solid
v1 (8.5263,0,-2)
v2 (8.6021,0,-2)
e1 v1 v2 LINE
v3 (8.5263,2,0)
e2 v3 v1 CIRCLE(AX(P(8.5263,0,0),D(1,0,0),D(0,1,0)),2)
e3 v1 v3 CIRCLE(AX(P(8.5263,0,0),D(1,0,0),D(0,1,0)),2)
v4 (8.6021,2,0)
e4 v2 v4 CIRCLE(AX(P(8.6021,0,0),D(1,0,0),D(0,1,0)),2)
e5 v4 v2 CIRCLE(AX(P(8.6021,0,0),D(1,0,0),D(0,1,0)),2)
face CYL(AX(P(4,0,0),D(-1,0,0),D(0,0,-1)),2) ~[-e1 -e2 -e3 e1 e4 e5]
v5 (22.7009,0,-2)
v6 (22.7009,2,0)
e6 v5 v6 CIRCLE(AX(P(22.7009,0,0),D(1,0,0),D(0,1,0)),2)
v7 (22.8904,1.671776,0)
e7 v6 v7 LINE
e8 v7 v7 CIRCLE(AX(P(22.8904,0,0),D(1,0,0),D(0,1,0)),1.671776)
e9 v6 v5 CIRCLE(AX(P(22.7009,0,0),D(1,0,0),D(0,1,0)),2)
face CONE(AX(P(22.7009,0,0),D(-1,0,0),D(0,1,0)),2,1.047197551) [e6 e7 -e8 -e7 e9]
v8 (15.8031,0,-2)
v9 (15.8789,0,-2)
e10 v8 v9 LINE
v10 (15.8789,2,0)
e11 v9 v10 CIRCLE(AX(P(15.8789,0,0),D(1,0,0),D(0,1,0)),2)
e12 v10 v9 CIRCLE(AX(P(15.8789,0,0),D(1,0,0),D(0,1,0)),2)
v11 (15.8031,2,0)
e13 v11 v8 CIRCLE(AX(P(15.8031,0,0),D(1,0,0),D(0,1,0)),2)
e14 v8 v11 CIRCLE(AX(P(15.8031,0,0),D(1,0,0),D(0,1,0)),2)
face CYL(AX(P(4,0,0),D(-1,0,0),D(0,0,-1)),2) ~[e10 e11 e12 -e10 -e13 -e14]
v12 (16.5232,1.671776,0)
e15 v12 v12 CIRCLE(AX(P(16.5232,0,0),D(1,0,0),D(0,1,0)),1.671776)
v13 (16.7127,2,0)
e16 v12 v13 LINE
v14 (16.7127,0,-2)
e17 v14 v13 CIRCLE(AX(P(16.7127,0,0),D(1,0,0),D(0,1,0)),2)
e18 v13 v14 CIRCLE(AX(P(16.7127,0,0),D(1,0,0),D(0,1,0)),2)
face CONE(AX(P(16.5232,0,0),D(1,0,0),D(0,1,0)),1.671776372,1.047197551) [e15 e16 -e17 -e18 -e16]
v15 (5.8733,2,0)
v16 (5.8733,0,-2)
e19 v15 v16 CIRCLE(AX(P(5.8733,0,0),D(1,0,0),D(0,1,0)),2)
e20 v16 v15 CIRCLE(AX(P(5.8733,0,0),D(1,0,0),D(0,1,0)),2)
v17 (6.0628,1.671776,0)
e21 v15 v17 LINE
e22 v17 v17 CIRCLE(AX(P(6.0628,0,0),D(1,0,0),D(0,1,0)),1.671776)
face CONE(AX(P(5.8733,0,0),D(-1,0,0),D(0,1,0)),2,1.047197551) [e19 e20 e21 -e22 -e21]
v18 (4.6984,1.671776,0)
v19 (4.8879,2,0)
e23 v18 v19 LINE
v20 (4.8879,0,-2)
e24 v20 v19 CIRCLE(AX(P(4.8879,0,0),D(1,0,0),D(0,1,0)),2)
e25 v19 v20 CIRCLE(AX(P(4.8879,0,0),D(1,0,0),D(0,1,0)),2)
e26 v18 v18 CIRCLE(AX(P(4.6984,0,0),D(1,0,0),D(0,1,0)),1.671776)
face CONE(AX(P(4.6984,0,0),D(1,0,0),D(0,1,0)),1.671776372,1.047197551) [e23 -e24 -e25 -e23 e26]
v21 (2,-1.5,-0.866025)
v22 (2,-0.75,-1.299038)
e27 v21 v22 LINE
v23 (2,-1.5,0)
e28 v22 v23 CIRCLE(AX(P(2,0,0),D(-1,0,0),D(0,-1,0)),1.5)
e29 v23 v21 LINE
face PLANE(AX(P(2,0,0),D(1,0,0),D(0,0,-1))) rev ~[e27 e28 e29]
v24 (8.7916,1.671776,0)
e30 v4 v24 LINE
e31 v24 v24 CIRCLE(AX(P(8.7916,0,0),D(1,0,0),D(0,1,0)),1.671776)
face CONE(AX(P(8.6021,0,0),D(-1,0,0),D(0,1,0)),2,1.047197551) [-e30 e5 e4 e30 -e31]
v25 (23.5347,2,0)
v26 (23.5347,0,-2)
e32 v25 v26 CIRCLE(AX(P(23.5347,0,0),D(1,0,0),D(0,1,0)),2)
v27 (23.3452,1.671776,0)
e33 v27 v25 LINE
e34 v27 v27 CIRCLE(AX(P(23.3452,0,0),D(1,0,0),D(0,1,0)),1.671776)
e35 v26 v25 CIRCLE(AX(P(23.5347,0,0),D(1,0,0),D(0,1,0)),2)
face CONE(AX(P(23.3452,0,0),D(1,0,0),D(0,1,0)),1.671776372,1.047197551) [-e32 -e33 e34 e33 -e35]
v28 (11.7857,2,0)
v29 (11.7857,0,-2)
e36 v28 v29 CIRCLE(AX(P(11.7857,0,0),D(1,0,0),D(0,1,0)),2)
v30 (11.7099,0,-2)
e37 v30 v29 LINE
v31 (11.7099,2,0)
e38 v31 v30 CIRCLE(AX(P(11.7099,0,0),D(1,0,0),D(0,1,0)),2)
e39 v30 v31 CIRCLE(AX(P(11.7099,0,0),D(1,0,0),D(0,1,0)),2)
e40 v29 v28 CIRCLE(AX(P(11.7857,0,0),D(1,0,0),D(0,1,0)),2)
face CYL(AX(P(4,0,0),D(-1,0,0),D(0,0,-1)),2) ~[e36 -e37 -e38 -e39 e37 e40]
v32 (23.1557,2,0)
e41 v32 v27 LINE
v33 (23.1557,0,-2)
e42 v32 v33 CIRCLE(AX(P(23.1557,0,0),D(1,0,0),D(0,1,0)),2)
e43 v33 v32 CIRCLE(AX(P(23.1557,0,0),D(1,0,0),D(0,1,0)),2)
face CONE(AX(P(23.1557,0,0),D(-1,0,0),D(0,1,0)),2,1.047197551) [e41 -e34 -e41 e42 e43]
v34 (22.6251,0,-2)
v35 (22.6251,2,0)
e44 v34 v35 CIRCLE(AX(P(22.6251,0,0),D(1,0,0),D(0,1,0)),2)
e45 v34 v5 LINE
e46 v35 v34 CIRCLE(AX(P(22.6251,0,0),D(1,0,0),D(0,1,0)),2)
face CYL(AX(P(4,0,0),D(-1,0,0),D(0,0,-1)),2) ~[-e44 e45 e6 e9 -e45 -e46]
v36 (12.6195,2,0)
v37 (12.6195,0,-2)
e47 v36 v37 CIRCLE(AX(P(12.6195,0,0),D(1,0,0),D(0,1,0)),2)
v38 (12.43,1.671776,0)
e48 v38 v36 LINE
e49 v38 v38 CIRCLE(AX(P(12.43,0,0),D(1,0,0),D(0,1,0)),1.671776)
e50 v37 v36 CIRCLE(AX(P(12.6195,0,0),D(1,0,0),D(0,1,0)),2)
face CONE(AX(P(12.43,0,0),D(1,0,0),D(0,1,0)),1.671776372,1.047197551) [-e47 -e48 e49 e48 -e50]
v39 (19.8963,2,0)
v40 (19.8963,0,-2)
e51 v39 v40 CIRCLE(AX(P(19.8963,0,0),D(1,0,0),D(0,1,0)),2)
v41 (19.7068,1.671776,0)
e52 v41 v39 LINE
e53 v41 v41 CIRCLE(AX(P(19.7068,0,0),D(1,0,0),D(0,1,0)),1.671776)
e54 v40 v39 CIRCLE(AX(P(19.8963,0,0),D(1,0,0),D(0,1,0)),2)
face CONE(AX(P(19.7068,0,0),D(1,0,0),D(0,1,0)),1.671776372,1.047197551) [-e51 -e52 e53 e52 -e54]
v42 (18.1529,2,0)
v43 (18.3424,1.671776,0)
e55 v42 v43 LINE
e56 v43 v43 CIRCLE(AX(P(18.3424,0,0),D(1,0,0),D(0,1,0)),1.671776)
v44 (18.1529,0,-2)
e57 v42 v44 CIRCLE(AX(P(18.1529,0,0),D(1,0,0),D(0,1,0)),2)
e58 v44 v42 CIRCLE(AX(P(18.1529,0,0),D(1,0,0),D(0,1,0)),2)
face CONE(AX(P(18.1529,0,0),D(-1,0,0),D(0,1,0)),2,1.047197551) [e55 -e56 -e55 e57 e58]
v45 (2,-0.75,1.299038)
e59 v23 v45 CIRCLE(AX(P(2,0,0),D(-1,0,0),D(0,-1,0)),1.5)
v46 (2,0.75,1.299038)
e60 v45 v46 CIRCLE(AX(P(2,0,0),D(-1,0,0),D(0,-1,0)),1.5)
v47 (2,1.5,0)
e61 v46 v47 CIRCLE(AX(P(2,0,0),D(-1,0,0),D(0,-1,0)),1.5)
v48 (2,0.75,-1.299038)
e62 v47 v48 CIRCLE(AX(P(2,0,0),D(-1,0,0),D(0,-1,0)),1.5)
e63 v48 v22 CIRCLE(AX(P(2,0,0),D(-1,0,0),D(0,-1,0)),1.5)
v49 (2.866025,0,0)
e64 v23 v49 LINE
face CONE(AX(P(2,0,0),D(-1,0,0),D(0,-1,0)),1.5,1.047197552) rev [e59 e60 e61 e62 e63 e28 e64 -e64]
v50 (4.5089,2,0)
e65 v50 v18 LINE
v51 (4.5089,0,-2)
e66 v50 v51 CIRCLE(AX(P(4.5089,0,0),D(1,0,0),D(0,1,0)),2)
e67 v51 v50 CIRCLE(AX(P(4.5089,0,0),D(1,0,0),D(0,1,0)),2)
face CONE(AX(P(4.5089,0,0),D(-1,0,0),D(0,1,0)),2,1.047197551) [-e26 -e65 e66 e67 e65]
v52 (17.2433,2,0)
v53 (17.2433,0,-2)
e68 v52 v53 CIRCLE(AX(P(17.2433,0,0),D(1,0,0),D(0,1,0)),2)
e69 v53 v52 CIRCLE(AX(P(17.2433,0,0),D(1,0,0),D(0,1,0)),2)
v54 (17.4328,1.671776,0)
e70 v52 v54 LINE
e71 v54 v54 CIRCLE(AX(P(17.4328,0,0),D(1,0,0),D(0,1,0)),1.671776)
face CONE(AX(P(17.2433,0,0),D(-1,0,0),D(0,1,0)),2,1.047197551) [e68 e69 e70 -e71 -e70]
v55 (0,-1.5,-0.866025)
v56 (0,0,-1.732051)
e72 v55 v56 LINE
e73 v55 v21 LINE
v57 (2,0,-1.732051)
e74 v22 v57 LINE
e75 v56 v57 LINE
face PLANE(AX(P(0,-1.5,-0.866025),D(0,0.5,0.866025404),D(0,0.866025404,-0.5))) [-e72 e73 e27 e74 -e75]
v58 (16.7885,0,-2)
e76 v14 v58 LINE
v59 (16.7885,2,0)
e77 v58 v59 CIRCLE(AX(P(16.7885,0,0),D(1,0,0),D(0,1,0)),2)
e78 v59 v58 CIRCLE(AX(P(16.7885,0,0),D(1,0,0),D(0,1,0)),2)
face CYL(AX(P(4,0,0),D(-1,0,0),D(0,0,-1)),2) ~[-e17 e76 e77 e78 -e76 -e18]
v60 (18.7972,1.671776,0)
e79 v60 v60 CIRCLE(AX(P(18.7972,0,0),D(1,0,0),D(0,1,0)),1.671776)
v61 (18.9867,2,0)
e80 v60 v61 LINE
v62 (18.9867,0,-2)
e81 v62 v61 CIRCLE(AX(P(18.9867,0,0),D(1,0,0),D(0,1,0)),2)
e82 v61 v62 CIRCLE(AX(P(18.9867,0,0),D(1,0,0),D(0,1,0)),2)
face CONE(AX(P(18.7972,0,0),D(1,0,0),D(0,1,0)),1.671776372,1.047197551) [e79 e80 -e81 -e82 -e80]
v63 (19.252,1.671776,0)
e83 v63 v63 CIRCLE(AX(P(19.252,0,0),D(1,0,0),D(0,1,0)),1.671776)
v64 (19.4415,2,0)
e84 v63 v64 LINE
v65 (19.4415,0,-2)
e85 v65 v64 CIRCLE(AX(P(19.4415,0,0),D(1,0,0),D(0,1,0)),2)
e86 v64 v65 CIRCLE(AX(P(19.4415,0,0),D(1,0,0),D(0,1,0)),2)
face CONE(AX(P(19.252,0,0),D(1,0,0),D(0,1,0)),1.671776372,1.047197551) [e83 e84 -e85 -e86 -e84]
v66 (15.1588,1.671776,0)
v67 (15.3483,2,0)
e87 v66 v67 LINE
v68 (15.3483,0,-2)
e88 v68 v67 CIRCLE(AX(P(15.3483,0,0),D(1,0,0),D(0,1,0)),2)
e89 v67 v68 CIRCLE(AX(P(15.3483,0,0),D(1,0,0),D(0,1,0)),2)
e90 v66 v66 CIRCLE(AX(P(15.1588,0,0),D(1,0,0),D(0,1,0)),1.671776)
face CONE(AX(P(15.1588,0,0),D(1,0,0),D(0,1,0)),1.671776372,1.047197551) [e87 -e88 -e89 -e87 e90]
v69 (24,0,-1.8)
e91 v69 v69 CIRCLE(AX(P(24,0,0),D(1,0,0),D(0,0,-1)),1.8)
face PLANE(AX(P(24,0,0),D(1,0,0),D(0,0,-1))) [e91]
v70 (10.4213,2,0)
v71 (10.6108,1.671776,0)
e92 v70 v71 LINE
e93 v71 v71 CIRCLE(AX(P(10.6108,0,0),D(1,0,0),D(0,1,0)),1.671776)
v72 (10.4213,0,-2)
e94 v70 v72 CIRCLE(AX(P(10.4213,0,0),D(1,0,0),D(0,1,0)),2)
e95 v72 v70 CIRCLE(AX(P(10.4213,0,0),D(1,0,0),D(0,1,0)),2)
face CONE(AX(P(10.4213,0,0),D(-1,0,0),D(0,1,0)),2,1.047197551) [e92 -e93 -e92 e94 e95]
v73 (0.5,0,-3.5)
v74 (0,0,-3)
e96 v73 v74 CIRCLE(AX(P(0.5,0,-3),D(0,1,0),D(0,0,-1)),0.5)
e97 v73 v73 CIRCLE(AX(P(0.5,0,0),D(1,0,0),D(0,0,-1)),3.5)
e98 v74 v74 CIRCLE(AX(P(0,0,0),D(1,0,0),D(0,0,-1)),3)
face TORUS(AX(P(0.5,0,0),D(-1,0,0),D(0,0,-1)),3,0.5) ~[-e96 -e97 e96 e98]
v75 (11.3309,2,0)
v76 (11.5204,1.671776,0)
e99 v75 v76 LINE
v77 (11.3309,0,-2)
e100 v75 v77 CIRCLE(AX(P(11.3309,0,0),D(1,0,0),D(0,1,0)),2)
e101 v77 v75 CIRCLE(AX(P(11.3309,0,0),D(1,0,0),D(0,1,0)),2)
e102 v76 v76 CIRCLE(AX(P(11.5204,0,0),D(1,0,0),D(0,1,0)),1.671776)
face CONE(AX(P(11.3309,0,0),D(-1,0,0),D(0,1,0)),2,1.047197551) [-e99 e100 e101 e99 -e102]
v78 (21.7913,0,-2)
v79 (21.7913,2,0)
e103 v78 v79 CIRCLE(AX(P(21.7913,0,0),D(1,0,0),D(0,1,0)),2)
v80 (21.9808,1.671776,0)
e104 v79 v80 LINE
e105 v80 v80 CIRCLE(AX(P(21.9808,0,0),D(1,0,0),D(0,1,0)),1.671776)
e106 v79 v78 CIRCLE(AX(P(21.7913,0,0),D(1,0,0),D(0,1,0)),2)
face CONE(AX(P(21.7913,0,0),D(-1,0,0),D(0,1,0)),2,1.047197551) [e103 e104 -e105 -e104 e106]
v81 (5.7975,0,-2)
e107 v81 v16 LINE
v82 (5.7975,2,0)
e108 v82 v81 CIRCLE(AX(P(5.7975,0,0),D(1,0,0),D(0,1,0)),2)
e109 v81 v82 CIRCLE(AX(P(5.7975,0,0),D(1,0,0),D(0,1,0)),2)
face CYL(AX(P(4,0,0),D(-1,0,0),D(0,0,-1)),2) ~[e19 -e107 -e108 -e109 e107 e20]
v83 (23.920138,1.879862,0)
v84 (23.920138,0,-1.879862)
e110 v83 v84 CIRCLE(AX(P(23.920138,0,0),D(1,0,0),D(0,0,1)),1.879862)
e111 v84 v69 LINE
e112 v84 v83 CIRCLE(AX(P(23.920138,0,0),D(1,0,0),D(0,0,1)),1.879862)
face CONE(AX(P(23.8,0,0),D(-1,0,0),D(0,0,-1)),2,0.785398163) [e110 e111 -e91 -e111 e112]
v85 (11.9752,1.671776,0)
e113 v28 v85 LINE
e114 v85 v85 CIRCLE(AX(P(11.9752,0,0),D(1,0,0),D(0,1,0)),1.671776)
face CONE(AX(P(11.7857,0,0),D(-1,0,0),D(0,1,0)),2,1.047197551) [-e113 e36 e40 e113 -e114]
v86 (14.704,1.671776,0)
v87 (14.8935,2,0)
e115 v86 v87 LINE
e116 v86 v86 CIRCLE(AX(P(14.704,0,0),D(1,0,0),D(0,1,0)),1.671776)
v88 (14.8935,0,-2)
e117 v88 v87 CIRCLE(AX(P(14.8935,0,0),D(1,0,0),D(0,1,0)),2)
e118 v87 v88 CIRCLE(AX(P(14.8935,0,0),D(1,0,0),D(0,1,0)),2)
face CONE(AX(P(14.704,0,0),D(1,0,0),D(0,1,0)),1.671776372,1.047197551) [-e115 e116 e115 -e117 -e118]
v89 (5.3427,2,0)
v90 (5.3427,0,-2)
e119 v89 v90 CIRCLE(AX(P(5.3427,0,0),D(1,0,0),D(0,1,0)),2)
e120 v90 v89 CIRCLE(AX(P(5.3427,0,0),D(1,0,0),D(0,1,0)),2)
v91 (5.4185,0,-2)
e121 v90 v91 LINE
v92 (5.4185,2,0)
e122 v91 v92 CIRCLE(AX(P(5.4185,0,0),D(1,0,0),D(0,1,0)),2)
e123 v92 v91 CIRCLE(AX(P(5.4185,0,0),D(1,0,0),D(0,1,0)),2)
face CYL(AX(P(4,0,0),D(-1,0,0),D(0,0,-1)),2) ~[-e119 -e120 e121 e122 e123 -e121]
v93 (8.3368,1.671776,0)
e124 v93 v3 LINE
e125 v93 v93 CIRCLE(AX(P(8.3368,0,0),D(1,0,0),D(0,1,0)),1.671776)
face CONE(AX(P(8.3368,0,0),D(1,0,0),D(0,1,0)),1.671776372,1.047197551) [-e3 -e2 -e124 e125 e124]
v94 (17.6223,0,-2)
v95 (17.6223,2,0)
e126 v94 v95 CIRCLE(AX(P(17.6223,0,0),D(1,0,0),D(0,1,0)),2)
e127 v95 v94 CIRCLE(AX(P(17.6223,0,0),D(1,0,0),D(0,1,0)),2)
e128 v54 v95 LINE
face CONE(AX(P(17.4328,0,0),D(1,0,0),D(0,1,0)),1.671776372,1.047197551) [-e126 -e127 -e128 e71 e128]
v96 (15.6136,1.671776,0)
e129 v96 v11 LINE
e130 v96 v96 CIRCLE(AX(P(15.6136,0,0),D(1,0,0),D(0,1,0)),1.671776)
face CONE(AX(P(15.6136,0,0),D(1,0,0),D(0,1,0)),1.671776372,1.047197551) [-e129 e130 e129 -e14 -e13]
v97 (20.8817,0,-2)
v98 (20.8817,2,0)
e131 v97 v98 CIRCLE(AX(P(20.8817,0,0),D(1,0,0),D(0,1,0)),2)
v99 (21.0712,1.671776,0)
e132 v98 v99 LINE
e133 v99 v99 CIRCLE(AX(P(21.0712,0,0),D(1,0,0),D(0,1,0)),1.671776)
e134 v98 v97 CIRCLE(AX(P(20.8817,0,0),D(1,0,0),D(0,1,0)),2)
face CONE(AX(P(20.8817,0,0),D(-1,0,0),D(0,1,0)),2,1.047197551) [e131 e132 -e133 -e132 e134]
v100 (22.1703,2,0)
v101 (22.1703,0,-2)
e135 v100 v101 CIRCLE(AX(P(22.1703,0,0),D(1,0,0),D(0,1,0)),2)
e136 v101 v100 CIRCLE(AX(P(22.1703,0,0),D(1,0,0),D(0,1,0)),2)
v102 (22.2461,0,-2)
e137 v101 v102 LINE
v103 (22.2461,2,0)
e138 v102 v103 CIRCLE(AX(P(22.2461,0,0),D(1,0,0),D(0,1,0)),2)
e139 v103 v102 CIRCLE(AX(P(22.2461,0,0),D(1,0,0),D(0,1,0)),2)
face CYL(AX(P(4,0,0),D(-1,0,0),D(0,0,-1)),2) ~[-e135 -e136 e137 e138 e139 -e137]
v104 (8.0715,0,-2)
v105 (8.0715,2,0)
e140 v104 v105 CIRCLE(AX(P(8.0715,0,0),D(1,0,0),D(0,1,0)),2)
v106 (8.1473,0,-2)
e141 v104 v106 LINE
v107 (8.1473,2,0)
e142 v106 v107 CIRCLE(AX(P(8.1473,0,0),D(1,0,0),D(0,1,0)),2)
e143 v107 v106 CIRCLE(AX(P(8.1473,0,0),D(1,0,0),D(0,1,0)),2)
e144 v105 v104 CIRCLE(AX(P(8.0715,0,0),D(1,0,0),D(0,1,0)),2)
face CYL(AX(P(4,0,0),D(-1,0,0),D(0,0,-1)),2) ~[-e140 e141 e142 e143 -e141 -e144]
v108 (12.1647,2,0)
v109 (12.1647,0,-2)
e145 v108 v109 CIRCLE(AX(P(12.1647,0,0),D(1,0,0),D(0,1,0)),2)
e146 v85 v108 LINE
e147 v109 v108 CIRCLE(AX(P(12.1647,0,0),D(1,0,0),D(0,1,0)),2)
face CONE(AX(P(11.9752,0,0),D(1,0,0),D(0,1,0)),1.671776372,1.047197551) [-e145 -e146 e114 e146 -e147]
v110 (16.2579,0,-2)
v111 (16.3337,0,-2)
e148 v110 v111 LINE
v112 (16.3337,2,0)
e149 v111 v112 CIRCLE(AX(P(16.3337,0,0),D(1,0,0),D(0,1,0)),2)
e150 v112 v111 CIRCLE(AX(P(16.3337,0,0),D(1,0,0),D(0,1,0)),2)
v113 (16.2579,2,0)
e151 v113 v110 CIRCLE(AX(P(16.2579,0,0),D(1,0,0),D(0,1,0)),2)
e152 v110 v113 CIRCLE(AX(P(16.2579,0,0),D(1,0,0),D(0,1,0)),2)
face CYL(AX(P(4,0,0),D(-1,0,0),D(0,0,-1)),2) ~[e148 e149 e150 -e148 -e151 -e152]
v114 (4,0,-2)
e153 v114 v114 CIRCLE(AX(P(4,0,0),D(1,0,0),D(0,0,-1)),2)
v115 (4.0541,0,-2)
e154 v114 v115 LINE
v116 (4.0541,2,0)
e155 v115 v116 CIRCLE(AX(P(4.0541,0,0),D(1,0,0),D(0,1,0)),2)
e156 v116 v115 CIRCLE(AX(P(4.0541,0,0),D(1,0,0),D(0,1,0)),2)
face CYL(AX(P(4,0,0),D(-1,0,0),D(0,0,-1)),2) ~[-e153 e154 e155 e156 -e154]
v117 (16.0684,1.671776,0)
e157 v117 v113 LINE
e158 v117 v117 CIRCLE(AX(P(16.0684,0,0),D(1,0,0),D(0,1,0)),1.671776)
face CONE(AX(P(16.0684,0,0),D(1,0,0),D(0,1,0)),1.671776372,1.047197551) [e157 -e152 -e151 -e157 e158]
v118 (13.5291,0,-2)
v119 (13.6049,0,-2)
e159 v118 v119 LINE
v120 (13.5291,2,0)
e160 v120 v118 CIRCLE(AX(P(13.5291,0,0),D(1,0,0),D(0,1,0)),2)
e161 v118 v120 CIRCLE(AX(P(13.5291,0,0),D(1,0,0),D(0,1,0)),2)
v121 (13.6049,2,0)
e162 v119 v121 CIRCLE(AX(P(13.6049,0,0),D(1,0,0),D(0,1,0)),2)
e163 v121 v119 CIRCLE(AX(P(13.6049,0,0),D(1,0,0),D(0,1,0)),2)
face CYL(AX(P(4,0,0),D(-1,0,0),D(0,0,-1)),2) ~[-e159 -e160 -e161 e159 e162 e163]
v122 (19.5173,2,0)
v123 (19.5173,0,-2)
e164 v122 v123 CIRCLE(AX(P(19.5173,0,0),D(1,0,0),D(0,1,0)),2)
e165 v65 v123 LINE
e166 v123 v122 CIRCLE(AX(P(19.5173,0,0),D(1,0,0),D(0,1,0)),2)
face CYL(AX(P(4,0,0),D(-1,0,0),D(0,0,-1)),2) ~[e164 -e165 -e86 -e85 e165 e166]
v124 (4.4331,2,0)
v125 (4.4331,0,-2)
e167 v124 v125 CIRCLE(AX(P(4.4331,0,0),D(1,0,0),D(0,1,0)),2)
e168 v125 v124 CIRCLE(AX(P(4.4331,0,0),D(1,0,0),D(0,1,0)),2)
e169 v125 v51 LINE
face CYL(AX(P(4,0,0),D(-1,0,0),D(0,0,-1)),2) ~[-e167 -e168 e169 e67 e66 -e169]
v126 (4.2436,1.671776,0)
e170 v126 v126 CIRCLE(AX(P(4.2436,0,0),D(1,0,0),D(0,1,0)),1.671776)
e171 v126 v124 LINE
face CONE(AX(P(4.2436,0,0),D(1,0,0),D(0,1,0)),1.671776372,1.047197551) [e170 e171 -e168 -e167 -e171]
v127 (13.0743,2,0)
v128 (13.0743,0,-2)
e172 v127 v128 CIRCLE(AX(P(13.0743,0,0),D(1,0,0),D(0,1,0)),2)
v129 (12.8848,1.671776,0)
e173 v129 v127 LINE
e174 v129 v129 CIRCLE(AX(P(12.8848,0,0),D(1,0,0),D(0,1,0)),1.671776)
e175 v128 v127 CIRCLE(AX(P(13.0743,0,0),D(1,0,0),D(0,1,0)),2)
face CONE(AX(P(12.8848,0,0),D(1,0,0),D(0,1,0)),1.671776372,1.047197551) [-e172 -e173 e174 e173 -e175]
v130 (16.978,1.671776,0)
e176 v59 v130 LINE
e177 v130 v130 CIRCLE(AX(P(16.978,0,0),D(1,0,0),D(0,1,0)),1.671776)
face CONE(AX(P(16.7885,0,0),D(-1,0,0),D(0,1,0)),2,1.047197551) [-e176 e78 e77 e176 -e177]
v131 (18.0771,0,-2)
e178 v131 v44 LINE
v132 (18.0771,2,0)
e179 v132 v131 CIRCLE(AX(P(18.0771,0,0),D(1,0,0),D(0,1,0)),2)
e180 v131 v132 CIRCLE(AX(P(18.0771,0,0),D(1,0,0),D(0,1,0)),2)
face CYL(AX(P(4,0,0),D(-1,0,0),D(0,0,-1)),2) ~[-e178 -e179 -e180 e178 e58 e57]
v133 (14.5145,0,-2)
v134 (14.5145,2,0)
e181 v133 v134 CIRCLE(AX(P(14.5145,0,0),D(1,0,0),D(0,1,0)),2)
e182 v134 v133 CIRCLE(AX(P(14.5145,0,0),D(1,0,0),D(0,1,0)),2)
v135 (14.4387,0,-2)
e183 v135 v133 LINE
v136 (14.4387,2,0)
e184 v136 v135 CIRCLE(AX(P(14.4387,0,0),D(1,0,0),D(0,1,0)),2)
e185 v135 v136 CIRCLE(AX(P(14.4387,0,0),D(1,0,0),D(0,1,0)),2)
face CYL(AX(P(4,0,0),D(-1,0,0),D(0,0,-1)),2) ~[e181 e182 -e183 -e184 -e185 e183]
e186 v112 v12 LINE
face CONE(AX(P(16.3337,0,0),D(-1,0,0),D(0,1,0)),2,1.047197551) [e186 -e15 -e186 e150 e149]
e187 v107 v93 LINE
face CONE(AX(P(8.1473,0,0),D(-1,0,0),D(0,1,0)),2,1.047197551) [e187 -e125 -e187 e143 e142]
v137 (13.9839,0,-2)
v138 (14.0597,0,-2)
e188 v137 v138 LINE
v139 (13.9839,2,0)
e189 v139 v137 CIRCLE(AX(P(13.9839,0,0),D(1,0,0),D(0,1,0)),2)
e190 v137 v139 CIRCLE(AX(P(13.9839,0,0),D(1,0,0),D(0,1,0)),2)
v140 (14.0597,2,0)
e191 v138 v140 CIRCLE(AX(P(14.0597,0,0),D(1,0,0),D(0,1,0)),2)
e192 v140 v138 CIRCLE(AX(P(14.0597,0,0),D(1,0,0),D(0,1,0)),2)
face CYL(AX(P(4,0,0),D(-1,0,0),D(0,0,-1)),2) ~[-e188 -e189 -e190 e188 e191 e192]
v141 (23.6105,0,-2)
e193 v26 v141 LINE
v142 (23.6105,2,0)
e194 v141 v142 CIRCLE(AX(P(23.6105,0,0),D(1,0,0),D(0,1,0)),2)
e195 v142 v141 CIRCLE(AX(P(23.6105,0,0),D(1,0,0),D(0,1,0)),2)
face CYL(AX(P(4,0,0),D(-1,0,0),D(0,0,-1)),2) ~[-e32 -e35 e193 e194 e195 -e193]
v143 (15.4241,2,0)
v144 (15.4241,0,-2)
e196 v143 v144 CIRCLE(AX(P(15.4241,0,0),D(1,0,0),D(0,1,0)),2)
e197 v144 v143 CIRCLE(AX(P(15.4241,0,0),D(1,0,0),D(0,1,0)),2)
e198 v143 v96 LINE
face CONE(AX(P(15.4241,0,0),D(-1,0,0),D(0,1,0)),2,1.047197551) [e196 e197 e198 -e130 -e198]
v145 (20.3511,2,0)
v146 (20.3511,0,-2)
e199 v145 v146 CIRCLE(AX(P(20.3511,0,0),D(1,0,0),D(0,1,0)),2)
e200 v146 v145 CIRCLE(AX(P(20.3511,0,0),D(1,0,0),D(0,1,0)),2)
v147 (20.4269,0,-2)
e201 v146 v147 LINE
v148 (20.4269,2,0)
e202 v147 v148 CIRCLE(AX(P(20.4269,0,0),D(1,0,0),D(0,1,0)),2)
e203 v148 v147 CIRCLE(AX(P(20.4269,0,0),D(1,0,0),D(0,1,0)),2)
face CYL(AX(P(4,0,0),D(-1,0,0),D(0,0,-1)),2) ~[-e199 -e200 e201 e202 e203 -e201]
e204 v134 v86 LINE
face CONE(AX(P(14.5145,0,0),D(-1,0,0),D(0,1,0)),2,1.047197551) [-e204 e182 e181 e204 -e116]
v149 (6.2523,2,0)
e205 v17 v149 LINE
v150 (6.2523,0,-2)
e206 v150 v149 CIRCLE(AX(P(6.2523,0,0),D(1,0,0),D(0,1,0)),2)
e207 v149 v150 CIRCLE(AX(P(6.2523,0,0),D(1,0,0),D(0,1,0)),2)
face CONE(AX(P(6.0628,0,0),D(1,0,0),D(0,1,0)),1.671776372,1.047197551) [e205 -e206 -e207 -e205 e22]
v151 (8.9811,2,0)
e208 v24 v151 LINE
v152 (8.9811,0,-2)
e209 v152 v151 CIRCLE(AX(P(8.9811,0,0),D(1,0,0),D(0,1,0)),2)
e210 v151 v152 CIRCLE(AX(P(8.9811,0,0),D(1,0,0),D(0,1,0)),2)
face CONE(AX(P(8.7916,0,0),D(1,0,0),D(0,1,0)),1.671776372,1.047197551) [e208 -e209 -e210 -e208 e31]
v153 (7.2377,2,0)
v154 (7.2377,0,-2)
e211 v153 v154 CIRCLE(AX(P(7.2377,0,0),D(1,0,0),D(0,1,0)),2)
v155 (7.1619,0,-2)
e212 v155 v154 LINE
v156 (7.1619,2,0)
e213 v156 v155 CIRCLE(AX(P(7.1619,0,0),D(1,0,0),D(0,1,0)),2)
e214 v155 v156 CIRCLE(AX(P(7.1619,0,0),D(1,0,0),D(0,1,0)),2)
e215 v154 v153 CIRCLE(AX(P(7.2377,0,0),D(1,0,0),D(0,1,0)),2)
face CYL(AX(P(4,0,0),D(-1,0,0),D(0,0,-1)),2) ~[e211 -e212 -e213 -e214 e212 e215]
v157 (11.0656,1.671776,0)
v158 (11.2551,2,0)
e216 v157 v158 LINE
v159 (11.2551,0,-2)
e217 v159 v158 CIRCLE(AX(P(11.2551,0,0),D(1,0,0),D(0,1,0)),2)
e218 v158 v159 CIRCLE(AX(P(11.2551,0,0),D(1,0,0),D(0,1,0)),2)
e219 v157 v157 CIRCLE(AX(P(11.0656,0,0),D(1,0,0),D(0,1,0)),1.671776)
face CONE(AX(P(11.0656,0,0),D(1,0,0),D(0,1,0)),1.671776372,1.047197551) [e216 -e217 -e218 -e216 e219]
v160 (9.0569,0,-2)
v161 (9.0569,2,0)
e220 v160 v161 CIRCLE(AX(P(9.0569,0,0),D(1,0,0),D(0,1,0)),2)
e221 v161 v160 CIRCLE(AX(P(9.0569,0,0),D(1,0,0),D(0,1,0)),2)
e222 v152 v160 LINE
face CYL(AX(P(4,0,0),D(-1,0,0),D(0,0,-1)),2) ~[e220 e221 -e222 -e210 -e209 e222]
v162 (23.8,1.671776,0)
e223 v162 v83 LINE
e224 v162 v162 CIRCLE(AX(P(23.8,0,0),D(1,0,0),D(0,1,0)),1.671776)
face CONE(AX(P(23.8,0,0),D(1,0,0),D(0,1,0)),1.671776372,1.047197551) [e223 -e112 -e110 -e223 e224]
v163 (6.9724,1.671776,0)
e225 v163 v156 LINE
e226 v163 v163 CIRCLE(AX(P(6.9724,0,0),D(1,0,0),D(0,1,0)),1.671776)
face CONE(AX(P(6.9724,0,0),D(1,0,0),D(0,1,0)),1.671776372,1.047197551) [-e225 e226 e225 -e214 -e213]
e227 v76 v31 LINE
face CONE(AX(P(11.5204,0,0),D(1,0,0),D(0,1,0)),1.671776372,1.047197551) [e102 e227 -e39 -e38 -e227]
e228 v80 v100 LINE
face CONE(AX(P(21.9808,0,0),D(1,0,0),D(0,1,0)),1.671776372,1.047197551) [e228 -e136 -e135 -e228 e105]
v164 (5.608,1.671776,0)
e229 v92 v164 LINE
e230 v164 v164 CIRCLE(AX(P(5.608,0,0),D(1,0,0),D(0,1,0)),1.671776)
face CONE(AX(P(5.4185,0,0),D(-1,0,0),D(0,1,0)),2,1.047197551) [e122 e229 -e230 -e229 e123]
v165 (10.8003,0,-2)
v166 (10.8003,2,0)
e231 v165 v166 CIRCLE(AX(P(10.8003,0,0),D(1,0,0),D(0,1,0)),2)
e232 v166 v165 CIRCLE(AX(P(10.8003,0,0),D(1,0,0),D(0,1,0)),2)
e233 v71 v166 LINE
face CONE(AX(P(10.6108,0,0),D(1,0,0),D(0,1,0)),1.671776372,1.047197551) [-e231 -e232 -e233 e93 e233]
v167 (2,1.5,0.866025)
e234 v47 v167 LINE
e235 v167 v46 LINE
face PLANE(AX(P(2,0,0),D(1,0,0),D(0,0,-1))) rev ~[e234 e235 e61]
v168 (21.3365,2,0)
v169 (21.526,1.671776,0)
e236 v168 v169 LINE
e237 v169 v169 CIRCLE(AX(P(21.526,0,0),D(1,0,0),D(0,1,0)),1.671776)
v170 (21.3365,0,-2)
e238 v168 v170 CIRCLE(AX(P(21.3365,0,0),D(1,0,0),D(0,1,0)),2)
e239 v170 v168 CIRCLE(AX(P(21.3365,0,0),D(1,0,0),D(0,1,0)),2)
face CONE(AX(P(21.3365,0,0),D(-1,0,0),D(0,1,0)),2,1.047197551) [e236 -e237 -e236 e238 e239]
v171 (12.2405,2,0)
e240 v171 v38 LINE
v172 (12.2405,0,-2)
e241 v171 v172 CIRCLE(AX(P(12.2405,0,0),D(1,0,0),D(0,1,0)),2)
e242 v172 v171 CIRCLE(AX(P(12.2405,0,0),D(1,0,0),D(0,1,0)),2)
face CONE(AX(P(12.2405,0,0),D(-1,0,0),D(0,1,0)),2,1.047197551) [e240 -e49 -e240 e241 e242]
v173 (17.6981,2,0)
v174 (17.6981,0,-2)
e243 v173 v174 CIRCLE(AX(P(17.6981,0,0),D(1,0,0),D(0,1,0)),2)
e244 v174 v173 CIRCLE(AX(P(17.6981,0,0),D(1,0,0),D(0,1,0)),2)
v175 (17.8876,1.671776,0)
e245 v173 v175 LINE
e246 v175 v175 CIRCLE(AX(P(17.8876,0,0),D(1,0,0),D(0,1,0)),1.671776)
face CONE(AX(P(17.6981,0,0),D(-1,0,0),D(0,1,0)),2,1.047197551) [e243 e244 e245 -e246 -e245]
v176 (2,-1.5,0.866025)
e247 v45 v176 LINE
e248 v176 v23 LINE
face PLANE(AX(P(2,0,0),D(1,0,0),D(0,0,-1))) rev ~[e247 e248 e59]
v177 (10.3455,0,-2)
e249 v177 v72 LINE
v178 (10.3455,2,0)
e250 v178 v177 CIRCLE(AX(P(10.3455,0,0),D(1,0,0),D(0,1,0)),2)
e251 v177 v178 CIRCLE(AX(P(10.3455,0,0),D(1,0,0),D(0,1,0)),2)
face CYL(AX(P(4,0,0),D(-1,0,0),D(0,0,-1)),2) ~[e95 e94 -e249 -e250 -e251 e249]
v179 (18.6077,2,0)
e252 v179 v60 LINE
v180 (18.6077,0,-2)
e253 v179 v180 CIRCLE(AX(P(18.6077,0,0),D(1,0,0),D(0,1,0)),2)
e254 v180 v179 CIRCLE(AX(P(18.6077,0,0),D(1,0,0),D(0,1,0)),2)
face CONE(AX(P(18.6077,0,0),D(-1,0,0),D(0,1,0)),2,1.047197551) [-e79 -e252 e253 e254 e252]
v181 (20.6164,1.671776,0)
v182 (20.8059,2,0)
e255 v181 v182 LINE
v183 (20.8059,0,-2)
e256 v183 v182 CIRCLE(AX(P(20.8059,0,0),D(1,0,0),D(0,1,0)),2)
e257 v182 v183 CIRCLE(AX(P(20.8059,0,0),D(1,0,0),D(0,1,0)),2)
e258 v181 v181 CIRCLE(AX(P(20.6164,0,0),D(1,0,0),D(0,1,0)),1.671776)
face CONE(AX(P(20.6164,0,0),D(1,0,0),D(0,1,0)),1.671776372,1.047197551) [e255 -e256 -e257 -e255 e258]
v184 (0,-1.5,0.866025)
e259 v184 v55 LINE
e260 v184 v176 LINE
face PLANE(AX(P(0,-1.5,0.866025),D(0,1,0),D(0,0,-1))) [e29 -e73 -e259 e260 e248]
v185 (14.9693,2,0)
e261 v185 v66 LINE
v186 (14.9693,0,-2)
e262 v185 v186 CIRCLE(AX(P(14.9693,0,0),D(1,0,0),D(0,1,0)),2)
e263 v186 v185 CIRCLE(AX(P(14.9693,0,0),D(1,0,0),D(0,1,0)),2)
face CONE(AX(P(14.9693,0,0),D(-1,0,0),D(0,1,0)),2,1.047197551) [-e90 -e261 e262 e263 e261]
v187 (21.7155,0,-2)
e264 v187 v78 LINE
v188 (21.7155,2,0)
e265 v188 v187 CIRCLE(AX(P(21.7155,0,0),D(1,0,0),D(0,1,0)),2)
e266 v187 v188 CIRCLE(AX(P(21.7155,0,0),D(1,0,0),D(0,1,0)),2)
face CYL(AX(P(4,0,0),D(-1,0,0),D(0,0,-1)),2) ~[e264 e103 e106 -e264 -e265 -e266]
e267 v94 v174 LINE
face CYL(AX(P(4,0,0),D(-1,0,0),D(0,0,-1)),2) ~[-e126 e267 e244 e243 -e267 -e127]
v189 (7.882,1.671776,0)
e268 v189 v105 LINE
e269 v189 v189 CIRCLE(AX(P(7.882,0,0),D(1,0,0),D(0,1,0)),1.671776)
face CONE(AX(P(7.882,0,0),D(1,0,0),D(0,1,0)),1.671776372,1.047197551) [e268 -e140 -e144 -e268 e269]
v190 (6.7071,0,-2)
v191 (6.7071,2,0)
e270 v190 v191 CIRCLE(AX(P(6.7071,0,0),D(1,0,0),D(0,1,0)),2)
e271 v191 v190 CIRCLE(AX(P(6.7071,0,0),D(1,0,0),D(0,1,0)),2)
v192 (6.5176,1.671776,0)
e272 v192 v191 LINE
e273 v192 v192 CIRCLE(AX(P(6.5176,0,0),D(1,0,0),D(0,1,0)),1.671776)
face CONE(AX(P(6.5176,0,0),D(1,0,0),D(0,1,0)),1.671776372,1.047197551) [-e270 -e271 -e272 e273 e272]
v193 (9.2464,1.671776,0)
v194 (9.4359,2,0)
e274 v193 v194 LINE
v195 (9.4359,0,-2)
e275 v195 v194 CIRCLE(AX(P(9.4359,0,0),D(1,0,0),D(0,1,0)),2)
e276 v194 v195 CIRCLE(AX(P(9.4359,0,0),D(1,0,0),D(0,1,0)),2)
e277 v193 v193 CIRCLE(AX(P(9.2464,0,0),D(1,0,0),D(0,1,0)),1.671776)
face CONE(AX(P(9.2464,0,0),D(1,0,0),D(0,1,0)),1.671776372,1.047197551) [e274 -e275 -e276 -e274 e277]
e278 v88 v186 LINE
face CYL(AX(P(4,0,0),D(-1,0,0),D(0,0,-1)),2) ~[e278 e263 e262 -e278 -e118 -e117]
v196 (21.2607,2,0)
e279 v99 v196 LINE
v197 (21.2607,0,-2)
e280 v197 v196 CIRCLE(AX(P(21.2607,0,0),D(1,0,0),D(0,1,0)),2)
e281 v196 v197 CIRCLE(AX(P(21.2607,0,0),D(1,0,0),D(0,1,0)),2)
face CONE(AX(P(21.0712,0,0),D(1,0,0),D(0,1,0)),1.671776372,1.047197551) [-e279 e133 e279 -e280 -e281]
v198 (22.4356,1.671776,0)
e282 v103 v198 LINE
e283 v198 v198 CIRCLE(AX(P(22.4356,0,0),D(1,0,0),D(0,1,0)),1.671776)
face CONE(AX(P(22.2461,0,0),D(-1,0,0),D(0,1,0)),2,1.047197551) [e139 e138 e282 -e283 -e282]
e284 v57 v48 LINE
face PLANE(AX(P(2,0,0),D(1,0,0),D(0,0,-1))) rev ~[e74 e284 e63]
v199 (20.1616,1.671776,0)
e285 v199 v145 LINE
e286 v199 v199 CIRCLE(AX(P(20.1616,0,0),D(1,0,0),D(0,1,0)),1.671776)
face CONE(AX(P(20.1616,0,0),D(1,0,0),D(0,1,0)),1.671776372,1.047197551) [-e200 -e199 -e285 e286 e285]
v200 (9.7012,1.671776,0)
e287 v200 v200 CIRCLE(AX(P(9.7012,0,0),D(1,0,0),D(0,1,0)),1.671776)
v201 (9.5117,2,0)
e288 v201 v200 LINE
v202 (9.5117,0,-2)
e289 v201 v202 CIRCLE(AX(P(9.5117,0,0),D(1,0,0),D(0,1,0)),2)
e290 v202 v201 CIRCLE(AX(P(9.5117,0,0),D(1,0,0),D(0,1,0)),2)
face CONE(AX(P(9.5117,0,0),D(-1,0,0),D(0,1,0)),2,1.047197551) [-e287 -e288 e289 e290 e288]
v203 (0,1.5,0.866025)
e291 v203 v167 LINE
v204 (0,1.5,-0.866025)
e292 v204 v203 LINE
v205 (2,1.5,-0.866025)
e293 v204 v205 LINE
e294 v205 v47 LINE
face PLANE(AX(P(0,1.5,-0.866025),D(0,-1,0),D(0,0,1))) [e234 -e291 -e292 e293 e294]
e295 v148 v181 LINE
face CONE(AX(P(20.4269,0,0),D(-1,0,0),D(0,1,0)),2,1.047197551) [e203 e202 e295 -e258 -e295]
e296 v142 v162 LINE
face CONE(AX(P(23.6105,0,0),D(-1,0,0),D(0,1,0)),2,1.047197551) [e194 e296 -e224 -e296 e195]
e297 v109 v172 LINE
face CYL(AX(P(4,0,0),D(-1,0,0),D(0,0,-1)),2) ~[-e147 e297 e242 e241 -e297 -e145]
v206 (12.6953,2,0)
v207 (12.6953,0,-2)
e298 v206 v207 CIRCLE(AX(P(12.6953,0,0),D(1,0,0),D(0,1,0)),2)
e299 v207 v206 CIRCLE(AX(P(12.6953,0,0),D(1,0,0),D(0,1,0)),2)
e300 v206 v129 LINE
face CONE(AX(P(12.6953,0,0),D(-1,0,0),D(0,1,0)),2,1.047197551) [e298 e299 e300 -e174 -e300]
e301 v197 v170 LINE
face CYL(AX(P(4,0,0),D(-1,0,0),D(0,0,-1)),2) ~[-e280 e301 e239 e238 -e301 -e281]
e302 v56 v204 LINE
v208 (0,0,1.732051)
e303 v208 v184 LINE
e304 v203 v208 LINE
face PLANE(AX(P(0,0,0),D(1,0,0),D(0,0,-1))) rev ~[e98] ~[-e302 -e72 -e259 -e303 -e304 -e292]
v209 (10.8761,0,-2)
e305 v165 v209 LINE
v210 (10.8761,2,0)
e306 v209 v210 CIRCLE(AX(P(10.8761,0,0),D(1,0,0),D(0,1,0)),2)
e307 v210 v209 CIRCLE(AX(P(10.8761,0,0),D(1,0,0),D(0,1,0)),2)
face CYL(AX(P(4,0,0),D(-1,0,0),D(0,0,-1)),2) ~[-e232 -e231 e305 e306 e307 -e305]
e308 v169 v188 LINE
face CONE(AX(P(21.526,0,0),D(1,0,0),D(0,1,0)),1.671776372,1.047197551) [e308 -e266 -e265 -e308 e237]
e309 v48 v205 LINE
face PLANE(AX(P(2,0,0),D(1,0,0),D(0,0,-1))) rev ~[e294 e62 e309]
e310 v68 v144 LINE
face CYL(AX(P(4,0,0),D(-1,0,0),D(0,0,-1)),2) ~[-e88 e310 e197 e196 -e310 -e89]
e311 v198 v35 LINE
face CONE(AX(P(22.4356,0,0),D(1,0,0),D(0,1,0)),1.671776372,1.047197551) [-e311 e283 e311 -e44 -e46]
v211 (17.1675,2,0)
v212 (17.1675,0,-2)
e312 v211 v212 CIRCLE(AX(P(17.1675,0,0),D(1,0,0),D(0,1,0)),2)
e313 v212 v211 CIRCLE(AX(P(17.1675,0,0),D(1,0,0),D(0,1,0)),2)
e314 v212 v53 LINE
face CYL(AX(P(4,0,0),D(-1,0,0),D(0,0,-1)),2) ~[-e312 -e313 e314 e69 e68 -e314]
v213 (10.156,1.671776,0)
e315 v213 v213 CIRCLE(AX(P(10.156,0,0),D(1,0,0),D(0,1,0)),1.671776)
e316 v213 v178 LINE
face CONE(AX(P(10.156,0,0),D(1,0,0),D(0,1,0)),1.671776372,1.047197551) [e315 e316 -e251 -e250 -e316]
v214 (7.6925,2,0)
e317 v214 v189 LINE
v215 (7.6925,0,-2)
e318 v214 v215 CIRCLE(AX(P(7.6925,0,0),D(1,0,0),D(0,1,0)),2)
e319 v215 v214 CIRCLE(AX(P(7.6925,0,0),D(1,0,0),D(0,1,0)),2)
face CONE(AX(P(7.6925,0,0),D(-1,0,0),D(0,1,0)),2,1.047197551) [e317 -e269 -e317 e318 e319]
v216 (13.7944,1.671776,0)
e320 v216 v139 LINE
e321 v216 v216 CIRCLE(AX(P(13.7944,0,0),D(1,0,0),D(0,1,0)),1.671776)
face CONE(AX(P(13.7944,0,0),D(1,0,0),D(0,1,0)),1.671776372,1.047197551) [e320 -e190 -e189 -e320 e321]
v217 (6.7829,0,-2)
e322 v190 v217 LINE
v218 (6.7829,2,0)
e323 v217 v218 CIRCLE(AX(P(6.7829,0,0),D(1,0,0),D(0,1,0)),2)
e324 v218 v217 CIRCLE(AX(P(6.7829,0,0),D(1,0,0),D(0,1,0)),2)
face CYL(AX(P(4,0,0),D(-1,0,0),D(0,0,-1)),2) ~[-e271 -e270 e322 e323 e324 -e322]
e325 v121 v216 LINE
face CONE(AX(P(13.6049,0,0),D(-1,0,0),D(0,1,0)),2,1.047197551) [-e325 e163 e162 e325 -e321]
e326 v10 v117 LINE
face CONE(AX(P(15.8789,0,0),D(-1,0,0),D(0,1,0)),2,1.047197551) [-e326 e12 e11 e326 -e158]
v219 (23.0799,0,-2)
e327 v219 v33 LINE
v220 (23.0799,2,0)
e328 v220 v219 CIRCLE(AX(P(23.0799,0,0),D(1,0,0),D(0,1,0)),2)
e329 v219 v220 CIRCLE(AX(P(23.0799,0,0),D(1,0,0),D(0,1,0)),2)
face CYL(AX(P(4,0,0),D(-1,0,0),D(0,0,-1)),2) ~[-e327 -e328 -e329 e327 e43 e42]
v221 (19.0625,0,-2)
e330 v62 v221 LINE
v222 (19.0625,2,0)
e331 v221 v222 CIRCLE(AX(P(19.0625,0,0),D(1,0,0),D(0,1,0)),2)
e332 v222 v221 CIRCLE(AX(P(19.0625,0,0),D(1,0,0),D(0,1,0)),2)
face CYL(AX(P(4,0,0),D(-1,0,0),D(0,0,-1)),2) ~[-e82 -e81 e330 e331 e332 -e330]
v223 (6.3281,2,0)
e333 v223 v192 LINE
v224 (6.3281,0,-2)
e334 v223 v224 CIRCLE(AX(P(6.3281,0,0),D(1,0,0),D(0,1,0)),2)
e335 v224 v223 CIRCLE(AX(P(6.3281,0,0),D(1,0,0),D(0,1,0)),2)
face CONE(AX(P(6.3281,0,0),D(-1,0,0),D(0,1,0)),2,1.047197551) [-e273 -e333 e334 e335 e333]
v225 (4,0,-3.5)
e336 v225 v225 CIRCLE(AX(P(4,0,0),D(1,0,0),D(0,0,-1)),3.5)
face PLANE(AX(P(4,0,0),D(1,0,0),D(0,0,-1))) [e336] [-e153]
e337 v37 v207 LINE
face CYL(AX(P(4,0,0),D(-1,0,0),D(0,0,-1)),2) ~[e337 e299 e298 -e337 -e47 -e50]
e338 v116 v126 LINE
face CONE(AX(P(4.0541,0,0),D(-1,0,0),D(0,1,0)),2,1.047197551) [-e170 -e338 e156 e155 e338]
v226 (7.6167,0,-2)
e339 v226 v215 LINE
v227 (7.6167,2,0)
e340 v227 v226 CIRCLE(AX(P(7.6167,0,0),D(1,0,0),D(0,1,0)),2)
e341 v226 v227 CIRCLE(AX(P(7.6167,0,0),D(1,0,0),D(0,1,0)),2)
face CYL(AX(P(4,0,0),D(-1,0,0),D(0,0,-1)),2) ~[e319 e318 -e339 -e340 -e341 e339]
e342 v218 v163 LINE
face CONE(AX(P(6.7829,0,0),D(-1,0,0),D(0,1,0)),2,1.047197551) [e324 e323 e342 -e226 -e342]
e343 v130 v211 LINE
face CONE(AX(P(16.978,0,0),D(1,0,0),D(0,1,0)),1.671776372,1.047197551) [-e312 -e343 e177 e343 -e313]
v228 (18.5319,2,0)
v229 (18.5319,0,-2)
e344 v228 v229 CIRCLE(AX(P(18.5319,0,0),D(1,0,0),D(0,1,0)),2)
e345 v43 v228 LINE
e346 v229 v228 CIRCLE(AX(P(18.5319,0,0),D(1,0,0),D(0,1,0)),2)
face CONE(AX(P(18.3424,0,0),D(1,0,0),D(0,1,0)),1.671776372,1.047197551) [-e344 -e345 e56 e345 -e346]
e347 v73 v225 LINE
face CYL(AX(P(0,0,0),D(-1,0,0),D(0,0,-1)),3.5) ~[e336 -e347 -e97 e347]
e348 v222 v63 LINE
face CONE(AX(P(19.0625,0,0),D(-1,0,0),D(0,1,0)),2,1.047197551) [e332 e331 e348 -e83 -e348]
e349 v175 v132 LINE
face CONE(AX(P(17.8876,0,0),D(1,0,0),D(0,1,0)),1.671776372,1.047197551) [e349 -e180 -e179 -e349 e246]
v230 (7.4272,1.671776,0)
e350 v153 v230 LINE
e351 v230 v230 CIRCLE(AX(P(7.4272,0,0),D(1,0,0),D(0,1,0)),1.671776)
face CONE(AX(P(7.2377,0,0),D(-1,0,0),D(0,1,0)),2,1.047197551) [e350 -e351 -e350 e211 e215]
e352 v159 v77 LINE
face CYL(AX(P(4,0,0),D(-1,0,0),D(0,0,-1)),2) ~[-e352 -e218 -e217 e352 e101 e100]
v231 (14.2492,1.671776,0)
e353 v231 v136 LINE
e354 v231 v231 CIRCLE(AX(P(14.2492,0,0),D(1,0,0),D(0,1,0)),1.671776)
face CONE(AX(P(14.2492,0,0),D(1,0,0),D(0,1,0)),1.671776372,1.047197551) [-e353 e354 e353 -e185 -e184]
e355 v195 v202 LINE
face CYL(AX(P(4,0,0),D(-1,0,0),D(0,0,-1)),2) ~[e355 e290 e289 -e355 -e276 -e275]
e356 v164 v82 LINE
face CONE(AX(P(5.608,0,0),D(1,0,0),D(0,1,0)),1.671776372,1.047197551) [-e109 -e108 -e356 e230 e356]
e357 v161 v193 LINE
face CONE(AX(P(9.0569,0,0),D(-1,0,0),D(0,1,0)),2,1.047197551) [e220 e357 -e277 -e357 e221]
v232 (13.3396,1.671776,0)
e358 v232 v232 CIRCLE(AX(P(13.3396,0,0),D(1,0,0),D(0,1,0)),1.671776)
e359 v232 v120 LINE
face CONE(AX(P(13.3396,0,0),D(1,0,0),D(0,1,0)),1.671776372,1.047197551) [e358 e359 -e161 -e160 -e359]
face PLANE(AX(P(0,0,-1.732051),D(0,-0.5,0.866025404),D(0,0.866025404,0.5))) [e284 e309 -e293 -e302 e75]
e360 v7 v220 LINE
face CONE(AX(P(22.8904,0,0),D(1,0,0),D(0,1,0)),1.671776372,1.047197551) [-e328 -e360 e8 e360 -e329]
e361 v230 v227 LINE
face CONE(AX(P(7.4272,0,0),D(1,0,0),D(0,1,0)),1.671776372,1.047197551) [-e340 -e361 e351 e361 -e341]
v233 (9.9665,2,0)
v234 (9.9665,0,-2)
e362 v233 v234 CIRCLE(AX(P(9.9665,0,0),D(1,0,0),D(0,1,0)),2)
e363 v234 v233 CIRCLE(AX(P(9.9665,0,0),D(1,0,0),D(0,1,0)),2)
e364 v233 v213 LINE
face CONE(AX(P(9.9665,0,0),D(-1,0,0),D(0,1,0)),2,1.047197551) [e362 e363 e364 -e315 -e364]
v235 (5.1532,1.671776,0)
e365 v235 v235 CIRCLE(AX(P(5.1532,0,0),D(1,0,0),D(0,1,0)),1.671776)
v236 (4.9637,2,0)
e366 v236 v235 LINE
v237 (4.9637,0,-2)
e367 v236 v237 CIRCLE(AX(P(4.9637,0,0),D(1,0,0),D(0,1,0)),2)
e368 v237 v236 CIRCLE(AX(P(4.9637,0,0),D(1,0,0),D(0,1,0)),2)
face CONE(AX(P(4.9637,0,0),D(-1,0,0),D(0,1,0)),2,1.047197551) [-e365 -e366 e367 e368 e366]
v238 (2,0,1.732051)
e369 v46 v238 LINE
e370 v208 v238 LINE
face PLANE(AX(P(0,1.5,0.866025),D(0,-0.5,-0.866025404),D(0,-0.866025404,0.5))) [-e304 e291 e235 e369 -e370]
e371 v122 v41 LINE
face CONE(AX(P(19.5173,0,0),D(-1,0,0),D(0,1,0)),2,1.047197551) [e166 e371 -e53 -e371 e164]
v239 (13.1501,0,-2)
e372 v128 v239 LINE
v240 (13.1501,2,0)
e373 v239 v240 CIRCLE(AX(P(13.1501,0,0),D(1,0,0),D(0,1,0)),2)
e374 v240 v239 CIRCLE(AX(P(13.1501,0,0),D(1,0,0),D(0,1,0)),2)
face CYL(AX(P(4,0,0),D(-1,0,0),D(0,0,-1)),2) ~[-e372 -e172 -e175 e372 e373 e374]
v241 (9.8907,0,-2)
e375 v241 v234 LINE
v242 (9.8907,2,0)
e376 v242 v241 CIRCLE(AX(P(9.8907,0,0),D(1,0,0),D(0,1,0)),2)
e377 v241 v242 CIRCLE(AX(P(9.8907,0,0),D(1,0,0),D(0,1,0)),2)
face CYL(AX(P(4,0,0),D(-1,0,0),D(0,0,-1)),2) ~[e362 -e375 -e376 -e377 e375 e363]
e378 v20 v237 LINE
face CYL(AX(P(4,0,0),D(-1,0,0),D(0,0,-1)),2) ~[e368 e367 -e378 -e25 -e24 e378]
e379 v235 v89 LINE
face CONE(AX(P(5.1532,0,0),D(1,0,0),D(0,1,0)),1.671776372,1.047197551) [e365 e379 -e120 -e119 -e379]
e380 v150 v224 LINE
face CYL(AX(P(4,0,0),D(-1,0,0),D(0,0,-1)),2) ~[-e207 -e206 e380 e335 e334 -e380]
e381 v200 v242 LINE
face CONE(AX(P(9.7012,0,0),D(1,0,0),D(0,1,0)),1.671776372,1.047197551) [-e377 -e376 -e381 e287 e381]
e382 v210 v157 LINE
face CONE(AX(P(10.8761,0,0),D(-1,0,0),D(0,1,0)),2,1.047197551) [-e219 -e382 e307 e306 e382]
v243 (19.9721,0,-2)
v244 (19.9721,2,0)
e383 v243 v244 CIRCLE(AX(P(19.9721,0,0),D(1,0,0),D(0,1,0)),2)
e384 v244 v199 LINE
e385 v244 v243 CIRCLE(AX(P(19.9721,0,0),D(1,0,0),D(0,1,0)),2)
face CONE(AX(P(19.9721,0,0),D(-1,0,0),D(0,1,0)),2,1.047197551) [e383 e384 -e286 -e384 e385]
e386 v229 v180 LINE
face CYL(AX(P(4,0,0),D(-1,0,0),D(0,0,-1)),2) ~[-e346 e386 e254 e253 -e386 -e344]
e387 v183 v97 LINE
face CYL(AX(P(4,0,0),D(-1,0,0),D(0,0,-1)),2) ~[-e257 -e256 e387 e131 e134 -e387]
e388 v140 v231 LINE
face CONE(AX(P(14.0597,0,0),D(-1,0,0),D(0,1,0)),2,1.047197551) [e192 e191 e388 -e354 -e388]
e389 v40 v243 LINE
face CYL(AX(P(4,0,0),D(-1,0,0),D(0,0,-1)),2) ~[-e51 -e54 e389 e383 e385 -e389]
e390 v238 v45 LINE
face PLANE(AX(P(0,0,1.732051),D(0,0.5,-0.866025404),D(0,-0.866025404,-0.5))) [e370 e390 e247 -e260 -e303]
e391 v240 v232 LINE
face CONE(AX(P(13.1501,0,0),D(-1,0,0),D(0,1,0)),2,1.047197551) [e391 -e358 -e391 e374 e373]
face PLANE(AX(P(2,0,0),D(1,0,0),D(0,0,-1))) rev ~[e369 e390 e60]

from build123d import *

# Parameters (mm, degrees)
SKETCH1_R           = 3.5
BASEHEAD_DEPTH      = 4
SKETCH2_R           = 2
BASEBODY_DEPTH      = 20
HEXAGONSOCKET_DEPTH = 2
TOPFILLET_R         = 0.5
CHAMFER1_SIZE       = 0.2
LPATTERN10_COUNT    = 44
LPATTERN10_PITCH    = 0.4548


with BuildPart() as part:
    # Sketch1 → BaseHead (new body)
    with BuildSketch(Plane(origin=(0, 0, 0), x_dir=(0, 0, -1), z_dir=(1, 0, 0))):
        Circle(SKETCH1_R)
    extrude(amount=BASEHEAD_DEPTH)

    # Sketch2 → BaseBody (add)
    with BuildSketch(Plane(origin=(4, 0, 0), x_dir=(0, 0, -1), z_dir=(1, 0, 0))):
        Circle(SKETCH2_R)
    extrude(amount=BASEBODY_DEPTH)

    # Sketch3 → HexagonSocket (cut)
    with BuildSketch(Plane(origin=(0, 0, 0), x_dir=(0, 0, -1), z_dir=(1, 0, 0))):
        Polygon((1.732050808, 0), (0.866025404, 1.5), (-0.866025404, 1.5), (-1.732050808, 0), (-0.866025404, -1.5), (0.866025404, -1.5), align=None)
    extrude(amount=HEXAGONSOCKET_DEPTH, mode=Mode.SUBTRACT)

    # Sketch4 → Cut-Revolve1 (revolve, cut)
    with BuildSketch(Plane(origin=(-4.19613823, 0.75, 0), x_dir=(-1, 0, 0), z_dir=(0, 0, 1))):
        Polygon((-6.19613823, 2.25), (-7.062163633, 0.75), (-6.19613823, 0.75), align=None)
    revolve(axis=Axis((0.838992387, 0, 0), (-1, 0, 0)), mode=Mode.SUBTRACT)

    # TopFillet
    topfillet_edges = [part.edges().sort_by_distance(p)[0] for p in [
        (0, 0, 3.5),
    ]]
    fillet(topfillet_edges, radius=TOPFILLET_R)

    # Chamfer1
    chamfer1_edges = [part.edges().sort_by_distance(p)[0] for p in [
        (24, 0, 2),
    ]]
    chamfer(chamfer1_edges, length=CHAMFER1_SIZE)

    # Sketch5 → Cut-Revolve10 (revolve, cut)
    with BuildSketch(Plane.XY):
        Polygon((23.8, 1.671776372), (23.9895, 2), (23.9895, 2.379), (23.6105, 2.379), (23.6105, 2), align=None)
    cut_revolve10 = revolve(axis=Axis((0, 0, 0), (1, 0, 0)), mode=Mode.SUBTRACT)

    # LPattern10: Cut-Revolve10 ×44
    with Locations(*[(-i * LPATTERN10_PITCH, 0, 0) for i in range(1, LPATTERN10_COUNT)]):
        add(cut_revolve10, mode=Mode.SUBTRACT)


solid = part.part
